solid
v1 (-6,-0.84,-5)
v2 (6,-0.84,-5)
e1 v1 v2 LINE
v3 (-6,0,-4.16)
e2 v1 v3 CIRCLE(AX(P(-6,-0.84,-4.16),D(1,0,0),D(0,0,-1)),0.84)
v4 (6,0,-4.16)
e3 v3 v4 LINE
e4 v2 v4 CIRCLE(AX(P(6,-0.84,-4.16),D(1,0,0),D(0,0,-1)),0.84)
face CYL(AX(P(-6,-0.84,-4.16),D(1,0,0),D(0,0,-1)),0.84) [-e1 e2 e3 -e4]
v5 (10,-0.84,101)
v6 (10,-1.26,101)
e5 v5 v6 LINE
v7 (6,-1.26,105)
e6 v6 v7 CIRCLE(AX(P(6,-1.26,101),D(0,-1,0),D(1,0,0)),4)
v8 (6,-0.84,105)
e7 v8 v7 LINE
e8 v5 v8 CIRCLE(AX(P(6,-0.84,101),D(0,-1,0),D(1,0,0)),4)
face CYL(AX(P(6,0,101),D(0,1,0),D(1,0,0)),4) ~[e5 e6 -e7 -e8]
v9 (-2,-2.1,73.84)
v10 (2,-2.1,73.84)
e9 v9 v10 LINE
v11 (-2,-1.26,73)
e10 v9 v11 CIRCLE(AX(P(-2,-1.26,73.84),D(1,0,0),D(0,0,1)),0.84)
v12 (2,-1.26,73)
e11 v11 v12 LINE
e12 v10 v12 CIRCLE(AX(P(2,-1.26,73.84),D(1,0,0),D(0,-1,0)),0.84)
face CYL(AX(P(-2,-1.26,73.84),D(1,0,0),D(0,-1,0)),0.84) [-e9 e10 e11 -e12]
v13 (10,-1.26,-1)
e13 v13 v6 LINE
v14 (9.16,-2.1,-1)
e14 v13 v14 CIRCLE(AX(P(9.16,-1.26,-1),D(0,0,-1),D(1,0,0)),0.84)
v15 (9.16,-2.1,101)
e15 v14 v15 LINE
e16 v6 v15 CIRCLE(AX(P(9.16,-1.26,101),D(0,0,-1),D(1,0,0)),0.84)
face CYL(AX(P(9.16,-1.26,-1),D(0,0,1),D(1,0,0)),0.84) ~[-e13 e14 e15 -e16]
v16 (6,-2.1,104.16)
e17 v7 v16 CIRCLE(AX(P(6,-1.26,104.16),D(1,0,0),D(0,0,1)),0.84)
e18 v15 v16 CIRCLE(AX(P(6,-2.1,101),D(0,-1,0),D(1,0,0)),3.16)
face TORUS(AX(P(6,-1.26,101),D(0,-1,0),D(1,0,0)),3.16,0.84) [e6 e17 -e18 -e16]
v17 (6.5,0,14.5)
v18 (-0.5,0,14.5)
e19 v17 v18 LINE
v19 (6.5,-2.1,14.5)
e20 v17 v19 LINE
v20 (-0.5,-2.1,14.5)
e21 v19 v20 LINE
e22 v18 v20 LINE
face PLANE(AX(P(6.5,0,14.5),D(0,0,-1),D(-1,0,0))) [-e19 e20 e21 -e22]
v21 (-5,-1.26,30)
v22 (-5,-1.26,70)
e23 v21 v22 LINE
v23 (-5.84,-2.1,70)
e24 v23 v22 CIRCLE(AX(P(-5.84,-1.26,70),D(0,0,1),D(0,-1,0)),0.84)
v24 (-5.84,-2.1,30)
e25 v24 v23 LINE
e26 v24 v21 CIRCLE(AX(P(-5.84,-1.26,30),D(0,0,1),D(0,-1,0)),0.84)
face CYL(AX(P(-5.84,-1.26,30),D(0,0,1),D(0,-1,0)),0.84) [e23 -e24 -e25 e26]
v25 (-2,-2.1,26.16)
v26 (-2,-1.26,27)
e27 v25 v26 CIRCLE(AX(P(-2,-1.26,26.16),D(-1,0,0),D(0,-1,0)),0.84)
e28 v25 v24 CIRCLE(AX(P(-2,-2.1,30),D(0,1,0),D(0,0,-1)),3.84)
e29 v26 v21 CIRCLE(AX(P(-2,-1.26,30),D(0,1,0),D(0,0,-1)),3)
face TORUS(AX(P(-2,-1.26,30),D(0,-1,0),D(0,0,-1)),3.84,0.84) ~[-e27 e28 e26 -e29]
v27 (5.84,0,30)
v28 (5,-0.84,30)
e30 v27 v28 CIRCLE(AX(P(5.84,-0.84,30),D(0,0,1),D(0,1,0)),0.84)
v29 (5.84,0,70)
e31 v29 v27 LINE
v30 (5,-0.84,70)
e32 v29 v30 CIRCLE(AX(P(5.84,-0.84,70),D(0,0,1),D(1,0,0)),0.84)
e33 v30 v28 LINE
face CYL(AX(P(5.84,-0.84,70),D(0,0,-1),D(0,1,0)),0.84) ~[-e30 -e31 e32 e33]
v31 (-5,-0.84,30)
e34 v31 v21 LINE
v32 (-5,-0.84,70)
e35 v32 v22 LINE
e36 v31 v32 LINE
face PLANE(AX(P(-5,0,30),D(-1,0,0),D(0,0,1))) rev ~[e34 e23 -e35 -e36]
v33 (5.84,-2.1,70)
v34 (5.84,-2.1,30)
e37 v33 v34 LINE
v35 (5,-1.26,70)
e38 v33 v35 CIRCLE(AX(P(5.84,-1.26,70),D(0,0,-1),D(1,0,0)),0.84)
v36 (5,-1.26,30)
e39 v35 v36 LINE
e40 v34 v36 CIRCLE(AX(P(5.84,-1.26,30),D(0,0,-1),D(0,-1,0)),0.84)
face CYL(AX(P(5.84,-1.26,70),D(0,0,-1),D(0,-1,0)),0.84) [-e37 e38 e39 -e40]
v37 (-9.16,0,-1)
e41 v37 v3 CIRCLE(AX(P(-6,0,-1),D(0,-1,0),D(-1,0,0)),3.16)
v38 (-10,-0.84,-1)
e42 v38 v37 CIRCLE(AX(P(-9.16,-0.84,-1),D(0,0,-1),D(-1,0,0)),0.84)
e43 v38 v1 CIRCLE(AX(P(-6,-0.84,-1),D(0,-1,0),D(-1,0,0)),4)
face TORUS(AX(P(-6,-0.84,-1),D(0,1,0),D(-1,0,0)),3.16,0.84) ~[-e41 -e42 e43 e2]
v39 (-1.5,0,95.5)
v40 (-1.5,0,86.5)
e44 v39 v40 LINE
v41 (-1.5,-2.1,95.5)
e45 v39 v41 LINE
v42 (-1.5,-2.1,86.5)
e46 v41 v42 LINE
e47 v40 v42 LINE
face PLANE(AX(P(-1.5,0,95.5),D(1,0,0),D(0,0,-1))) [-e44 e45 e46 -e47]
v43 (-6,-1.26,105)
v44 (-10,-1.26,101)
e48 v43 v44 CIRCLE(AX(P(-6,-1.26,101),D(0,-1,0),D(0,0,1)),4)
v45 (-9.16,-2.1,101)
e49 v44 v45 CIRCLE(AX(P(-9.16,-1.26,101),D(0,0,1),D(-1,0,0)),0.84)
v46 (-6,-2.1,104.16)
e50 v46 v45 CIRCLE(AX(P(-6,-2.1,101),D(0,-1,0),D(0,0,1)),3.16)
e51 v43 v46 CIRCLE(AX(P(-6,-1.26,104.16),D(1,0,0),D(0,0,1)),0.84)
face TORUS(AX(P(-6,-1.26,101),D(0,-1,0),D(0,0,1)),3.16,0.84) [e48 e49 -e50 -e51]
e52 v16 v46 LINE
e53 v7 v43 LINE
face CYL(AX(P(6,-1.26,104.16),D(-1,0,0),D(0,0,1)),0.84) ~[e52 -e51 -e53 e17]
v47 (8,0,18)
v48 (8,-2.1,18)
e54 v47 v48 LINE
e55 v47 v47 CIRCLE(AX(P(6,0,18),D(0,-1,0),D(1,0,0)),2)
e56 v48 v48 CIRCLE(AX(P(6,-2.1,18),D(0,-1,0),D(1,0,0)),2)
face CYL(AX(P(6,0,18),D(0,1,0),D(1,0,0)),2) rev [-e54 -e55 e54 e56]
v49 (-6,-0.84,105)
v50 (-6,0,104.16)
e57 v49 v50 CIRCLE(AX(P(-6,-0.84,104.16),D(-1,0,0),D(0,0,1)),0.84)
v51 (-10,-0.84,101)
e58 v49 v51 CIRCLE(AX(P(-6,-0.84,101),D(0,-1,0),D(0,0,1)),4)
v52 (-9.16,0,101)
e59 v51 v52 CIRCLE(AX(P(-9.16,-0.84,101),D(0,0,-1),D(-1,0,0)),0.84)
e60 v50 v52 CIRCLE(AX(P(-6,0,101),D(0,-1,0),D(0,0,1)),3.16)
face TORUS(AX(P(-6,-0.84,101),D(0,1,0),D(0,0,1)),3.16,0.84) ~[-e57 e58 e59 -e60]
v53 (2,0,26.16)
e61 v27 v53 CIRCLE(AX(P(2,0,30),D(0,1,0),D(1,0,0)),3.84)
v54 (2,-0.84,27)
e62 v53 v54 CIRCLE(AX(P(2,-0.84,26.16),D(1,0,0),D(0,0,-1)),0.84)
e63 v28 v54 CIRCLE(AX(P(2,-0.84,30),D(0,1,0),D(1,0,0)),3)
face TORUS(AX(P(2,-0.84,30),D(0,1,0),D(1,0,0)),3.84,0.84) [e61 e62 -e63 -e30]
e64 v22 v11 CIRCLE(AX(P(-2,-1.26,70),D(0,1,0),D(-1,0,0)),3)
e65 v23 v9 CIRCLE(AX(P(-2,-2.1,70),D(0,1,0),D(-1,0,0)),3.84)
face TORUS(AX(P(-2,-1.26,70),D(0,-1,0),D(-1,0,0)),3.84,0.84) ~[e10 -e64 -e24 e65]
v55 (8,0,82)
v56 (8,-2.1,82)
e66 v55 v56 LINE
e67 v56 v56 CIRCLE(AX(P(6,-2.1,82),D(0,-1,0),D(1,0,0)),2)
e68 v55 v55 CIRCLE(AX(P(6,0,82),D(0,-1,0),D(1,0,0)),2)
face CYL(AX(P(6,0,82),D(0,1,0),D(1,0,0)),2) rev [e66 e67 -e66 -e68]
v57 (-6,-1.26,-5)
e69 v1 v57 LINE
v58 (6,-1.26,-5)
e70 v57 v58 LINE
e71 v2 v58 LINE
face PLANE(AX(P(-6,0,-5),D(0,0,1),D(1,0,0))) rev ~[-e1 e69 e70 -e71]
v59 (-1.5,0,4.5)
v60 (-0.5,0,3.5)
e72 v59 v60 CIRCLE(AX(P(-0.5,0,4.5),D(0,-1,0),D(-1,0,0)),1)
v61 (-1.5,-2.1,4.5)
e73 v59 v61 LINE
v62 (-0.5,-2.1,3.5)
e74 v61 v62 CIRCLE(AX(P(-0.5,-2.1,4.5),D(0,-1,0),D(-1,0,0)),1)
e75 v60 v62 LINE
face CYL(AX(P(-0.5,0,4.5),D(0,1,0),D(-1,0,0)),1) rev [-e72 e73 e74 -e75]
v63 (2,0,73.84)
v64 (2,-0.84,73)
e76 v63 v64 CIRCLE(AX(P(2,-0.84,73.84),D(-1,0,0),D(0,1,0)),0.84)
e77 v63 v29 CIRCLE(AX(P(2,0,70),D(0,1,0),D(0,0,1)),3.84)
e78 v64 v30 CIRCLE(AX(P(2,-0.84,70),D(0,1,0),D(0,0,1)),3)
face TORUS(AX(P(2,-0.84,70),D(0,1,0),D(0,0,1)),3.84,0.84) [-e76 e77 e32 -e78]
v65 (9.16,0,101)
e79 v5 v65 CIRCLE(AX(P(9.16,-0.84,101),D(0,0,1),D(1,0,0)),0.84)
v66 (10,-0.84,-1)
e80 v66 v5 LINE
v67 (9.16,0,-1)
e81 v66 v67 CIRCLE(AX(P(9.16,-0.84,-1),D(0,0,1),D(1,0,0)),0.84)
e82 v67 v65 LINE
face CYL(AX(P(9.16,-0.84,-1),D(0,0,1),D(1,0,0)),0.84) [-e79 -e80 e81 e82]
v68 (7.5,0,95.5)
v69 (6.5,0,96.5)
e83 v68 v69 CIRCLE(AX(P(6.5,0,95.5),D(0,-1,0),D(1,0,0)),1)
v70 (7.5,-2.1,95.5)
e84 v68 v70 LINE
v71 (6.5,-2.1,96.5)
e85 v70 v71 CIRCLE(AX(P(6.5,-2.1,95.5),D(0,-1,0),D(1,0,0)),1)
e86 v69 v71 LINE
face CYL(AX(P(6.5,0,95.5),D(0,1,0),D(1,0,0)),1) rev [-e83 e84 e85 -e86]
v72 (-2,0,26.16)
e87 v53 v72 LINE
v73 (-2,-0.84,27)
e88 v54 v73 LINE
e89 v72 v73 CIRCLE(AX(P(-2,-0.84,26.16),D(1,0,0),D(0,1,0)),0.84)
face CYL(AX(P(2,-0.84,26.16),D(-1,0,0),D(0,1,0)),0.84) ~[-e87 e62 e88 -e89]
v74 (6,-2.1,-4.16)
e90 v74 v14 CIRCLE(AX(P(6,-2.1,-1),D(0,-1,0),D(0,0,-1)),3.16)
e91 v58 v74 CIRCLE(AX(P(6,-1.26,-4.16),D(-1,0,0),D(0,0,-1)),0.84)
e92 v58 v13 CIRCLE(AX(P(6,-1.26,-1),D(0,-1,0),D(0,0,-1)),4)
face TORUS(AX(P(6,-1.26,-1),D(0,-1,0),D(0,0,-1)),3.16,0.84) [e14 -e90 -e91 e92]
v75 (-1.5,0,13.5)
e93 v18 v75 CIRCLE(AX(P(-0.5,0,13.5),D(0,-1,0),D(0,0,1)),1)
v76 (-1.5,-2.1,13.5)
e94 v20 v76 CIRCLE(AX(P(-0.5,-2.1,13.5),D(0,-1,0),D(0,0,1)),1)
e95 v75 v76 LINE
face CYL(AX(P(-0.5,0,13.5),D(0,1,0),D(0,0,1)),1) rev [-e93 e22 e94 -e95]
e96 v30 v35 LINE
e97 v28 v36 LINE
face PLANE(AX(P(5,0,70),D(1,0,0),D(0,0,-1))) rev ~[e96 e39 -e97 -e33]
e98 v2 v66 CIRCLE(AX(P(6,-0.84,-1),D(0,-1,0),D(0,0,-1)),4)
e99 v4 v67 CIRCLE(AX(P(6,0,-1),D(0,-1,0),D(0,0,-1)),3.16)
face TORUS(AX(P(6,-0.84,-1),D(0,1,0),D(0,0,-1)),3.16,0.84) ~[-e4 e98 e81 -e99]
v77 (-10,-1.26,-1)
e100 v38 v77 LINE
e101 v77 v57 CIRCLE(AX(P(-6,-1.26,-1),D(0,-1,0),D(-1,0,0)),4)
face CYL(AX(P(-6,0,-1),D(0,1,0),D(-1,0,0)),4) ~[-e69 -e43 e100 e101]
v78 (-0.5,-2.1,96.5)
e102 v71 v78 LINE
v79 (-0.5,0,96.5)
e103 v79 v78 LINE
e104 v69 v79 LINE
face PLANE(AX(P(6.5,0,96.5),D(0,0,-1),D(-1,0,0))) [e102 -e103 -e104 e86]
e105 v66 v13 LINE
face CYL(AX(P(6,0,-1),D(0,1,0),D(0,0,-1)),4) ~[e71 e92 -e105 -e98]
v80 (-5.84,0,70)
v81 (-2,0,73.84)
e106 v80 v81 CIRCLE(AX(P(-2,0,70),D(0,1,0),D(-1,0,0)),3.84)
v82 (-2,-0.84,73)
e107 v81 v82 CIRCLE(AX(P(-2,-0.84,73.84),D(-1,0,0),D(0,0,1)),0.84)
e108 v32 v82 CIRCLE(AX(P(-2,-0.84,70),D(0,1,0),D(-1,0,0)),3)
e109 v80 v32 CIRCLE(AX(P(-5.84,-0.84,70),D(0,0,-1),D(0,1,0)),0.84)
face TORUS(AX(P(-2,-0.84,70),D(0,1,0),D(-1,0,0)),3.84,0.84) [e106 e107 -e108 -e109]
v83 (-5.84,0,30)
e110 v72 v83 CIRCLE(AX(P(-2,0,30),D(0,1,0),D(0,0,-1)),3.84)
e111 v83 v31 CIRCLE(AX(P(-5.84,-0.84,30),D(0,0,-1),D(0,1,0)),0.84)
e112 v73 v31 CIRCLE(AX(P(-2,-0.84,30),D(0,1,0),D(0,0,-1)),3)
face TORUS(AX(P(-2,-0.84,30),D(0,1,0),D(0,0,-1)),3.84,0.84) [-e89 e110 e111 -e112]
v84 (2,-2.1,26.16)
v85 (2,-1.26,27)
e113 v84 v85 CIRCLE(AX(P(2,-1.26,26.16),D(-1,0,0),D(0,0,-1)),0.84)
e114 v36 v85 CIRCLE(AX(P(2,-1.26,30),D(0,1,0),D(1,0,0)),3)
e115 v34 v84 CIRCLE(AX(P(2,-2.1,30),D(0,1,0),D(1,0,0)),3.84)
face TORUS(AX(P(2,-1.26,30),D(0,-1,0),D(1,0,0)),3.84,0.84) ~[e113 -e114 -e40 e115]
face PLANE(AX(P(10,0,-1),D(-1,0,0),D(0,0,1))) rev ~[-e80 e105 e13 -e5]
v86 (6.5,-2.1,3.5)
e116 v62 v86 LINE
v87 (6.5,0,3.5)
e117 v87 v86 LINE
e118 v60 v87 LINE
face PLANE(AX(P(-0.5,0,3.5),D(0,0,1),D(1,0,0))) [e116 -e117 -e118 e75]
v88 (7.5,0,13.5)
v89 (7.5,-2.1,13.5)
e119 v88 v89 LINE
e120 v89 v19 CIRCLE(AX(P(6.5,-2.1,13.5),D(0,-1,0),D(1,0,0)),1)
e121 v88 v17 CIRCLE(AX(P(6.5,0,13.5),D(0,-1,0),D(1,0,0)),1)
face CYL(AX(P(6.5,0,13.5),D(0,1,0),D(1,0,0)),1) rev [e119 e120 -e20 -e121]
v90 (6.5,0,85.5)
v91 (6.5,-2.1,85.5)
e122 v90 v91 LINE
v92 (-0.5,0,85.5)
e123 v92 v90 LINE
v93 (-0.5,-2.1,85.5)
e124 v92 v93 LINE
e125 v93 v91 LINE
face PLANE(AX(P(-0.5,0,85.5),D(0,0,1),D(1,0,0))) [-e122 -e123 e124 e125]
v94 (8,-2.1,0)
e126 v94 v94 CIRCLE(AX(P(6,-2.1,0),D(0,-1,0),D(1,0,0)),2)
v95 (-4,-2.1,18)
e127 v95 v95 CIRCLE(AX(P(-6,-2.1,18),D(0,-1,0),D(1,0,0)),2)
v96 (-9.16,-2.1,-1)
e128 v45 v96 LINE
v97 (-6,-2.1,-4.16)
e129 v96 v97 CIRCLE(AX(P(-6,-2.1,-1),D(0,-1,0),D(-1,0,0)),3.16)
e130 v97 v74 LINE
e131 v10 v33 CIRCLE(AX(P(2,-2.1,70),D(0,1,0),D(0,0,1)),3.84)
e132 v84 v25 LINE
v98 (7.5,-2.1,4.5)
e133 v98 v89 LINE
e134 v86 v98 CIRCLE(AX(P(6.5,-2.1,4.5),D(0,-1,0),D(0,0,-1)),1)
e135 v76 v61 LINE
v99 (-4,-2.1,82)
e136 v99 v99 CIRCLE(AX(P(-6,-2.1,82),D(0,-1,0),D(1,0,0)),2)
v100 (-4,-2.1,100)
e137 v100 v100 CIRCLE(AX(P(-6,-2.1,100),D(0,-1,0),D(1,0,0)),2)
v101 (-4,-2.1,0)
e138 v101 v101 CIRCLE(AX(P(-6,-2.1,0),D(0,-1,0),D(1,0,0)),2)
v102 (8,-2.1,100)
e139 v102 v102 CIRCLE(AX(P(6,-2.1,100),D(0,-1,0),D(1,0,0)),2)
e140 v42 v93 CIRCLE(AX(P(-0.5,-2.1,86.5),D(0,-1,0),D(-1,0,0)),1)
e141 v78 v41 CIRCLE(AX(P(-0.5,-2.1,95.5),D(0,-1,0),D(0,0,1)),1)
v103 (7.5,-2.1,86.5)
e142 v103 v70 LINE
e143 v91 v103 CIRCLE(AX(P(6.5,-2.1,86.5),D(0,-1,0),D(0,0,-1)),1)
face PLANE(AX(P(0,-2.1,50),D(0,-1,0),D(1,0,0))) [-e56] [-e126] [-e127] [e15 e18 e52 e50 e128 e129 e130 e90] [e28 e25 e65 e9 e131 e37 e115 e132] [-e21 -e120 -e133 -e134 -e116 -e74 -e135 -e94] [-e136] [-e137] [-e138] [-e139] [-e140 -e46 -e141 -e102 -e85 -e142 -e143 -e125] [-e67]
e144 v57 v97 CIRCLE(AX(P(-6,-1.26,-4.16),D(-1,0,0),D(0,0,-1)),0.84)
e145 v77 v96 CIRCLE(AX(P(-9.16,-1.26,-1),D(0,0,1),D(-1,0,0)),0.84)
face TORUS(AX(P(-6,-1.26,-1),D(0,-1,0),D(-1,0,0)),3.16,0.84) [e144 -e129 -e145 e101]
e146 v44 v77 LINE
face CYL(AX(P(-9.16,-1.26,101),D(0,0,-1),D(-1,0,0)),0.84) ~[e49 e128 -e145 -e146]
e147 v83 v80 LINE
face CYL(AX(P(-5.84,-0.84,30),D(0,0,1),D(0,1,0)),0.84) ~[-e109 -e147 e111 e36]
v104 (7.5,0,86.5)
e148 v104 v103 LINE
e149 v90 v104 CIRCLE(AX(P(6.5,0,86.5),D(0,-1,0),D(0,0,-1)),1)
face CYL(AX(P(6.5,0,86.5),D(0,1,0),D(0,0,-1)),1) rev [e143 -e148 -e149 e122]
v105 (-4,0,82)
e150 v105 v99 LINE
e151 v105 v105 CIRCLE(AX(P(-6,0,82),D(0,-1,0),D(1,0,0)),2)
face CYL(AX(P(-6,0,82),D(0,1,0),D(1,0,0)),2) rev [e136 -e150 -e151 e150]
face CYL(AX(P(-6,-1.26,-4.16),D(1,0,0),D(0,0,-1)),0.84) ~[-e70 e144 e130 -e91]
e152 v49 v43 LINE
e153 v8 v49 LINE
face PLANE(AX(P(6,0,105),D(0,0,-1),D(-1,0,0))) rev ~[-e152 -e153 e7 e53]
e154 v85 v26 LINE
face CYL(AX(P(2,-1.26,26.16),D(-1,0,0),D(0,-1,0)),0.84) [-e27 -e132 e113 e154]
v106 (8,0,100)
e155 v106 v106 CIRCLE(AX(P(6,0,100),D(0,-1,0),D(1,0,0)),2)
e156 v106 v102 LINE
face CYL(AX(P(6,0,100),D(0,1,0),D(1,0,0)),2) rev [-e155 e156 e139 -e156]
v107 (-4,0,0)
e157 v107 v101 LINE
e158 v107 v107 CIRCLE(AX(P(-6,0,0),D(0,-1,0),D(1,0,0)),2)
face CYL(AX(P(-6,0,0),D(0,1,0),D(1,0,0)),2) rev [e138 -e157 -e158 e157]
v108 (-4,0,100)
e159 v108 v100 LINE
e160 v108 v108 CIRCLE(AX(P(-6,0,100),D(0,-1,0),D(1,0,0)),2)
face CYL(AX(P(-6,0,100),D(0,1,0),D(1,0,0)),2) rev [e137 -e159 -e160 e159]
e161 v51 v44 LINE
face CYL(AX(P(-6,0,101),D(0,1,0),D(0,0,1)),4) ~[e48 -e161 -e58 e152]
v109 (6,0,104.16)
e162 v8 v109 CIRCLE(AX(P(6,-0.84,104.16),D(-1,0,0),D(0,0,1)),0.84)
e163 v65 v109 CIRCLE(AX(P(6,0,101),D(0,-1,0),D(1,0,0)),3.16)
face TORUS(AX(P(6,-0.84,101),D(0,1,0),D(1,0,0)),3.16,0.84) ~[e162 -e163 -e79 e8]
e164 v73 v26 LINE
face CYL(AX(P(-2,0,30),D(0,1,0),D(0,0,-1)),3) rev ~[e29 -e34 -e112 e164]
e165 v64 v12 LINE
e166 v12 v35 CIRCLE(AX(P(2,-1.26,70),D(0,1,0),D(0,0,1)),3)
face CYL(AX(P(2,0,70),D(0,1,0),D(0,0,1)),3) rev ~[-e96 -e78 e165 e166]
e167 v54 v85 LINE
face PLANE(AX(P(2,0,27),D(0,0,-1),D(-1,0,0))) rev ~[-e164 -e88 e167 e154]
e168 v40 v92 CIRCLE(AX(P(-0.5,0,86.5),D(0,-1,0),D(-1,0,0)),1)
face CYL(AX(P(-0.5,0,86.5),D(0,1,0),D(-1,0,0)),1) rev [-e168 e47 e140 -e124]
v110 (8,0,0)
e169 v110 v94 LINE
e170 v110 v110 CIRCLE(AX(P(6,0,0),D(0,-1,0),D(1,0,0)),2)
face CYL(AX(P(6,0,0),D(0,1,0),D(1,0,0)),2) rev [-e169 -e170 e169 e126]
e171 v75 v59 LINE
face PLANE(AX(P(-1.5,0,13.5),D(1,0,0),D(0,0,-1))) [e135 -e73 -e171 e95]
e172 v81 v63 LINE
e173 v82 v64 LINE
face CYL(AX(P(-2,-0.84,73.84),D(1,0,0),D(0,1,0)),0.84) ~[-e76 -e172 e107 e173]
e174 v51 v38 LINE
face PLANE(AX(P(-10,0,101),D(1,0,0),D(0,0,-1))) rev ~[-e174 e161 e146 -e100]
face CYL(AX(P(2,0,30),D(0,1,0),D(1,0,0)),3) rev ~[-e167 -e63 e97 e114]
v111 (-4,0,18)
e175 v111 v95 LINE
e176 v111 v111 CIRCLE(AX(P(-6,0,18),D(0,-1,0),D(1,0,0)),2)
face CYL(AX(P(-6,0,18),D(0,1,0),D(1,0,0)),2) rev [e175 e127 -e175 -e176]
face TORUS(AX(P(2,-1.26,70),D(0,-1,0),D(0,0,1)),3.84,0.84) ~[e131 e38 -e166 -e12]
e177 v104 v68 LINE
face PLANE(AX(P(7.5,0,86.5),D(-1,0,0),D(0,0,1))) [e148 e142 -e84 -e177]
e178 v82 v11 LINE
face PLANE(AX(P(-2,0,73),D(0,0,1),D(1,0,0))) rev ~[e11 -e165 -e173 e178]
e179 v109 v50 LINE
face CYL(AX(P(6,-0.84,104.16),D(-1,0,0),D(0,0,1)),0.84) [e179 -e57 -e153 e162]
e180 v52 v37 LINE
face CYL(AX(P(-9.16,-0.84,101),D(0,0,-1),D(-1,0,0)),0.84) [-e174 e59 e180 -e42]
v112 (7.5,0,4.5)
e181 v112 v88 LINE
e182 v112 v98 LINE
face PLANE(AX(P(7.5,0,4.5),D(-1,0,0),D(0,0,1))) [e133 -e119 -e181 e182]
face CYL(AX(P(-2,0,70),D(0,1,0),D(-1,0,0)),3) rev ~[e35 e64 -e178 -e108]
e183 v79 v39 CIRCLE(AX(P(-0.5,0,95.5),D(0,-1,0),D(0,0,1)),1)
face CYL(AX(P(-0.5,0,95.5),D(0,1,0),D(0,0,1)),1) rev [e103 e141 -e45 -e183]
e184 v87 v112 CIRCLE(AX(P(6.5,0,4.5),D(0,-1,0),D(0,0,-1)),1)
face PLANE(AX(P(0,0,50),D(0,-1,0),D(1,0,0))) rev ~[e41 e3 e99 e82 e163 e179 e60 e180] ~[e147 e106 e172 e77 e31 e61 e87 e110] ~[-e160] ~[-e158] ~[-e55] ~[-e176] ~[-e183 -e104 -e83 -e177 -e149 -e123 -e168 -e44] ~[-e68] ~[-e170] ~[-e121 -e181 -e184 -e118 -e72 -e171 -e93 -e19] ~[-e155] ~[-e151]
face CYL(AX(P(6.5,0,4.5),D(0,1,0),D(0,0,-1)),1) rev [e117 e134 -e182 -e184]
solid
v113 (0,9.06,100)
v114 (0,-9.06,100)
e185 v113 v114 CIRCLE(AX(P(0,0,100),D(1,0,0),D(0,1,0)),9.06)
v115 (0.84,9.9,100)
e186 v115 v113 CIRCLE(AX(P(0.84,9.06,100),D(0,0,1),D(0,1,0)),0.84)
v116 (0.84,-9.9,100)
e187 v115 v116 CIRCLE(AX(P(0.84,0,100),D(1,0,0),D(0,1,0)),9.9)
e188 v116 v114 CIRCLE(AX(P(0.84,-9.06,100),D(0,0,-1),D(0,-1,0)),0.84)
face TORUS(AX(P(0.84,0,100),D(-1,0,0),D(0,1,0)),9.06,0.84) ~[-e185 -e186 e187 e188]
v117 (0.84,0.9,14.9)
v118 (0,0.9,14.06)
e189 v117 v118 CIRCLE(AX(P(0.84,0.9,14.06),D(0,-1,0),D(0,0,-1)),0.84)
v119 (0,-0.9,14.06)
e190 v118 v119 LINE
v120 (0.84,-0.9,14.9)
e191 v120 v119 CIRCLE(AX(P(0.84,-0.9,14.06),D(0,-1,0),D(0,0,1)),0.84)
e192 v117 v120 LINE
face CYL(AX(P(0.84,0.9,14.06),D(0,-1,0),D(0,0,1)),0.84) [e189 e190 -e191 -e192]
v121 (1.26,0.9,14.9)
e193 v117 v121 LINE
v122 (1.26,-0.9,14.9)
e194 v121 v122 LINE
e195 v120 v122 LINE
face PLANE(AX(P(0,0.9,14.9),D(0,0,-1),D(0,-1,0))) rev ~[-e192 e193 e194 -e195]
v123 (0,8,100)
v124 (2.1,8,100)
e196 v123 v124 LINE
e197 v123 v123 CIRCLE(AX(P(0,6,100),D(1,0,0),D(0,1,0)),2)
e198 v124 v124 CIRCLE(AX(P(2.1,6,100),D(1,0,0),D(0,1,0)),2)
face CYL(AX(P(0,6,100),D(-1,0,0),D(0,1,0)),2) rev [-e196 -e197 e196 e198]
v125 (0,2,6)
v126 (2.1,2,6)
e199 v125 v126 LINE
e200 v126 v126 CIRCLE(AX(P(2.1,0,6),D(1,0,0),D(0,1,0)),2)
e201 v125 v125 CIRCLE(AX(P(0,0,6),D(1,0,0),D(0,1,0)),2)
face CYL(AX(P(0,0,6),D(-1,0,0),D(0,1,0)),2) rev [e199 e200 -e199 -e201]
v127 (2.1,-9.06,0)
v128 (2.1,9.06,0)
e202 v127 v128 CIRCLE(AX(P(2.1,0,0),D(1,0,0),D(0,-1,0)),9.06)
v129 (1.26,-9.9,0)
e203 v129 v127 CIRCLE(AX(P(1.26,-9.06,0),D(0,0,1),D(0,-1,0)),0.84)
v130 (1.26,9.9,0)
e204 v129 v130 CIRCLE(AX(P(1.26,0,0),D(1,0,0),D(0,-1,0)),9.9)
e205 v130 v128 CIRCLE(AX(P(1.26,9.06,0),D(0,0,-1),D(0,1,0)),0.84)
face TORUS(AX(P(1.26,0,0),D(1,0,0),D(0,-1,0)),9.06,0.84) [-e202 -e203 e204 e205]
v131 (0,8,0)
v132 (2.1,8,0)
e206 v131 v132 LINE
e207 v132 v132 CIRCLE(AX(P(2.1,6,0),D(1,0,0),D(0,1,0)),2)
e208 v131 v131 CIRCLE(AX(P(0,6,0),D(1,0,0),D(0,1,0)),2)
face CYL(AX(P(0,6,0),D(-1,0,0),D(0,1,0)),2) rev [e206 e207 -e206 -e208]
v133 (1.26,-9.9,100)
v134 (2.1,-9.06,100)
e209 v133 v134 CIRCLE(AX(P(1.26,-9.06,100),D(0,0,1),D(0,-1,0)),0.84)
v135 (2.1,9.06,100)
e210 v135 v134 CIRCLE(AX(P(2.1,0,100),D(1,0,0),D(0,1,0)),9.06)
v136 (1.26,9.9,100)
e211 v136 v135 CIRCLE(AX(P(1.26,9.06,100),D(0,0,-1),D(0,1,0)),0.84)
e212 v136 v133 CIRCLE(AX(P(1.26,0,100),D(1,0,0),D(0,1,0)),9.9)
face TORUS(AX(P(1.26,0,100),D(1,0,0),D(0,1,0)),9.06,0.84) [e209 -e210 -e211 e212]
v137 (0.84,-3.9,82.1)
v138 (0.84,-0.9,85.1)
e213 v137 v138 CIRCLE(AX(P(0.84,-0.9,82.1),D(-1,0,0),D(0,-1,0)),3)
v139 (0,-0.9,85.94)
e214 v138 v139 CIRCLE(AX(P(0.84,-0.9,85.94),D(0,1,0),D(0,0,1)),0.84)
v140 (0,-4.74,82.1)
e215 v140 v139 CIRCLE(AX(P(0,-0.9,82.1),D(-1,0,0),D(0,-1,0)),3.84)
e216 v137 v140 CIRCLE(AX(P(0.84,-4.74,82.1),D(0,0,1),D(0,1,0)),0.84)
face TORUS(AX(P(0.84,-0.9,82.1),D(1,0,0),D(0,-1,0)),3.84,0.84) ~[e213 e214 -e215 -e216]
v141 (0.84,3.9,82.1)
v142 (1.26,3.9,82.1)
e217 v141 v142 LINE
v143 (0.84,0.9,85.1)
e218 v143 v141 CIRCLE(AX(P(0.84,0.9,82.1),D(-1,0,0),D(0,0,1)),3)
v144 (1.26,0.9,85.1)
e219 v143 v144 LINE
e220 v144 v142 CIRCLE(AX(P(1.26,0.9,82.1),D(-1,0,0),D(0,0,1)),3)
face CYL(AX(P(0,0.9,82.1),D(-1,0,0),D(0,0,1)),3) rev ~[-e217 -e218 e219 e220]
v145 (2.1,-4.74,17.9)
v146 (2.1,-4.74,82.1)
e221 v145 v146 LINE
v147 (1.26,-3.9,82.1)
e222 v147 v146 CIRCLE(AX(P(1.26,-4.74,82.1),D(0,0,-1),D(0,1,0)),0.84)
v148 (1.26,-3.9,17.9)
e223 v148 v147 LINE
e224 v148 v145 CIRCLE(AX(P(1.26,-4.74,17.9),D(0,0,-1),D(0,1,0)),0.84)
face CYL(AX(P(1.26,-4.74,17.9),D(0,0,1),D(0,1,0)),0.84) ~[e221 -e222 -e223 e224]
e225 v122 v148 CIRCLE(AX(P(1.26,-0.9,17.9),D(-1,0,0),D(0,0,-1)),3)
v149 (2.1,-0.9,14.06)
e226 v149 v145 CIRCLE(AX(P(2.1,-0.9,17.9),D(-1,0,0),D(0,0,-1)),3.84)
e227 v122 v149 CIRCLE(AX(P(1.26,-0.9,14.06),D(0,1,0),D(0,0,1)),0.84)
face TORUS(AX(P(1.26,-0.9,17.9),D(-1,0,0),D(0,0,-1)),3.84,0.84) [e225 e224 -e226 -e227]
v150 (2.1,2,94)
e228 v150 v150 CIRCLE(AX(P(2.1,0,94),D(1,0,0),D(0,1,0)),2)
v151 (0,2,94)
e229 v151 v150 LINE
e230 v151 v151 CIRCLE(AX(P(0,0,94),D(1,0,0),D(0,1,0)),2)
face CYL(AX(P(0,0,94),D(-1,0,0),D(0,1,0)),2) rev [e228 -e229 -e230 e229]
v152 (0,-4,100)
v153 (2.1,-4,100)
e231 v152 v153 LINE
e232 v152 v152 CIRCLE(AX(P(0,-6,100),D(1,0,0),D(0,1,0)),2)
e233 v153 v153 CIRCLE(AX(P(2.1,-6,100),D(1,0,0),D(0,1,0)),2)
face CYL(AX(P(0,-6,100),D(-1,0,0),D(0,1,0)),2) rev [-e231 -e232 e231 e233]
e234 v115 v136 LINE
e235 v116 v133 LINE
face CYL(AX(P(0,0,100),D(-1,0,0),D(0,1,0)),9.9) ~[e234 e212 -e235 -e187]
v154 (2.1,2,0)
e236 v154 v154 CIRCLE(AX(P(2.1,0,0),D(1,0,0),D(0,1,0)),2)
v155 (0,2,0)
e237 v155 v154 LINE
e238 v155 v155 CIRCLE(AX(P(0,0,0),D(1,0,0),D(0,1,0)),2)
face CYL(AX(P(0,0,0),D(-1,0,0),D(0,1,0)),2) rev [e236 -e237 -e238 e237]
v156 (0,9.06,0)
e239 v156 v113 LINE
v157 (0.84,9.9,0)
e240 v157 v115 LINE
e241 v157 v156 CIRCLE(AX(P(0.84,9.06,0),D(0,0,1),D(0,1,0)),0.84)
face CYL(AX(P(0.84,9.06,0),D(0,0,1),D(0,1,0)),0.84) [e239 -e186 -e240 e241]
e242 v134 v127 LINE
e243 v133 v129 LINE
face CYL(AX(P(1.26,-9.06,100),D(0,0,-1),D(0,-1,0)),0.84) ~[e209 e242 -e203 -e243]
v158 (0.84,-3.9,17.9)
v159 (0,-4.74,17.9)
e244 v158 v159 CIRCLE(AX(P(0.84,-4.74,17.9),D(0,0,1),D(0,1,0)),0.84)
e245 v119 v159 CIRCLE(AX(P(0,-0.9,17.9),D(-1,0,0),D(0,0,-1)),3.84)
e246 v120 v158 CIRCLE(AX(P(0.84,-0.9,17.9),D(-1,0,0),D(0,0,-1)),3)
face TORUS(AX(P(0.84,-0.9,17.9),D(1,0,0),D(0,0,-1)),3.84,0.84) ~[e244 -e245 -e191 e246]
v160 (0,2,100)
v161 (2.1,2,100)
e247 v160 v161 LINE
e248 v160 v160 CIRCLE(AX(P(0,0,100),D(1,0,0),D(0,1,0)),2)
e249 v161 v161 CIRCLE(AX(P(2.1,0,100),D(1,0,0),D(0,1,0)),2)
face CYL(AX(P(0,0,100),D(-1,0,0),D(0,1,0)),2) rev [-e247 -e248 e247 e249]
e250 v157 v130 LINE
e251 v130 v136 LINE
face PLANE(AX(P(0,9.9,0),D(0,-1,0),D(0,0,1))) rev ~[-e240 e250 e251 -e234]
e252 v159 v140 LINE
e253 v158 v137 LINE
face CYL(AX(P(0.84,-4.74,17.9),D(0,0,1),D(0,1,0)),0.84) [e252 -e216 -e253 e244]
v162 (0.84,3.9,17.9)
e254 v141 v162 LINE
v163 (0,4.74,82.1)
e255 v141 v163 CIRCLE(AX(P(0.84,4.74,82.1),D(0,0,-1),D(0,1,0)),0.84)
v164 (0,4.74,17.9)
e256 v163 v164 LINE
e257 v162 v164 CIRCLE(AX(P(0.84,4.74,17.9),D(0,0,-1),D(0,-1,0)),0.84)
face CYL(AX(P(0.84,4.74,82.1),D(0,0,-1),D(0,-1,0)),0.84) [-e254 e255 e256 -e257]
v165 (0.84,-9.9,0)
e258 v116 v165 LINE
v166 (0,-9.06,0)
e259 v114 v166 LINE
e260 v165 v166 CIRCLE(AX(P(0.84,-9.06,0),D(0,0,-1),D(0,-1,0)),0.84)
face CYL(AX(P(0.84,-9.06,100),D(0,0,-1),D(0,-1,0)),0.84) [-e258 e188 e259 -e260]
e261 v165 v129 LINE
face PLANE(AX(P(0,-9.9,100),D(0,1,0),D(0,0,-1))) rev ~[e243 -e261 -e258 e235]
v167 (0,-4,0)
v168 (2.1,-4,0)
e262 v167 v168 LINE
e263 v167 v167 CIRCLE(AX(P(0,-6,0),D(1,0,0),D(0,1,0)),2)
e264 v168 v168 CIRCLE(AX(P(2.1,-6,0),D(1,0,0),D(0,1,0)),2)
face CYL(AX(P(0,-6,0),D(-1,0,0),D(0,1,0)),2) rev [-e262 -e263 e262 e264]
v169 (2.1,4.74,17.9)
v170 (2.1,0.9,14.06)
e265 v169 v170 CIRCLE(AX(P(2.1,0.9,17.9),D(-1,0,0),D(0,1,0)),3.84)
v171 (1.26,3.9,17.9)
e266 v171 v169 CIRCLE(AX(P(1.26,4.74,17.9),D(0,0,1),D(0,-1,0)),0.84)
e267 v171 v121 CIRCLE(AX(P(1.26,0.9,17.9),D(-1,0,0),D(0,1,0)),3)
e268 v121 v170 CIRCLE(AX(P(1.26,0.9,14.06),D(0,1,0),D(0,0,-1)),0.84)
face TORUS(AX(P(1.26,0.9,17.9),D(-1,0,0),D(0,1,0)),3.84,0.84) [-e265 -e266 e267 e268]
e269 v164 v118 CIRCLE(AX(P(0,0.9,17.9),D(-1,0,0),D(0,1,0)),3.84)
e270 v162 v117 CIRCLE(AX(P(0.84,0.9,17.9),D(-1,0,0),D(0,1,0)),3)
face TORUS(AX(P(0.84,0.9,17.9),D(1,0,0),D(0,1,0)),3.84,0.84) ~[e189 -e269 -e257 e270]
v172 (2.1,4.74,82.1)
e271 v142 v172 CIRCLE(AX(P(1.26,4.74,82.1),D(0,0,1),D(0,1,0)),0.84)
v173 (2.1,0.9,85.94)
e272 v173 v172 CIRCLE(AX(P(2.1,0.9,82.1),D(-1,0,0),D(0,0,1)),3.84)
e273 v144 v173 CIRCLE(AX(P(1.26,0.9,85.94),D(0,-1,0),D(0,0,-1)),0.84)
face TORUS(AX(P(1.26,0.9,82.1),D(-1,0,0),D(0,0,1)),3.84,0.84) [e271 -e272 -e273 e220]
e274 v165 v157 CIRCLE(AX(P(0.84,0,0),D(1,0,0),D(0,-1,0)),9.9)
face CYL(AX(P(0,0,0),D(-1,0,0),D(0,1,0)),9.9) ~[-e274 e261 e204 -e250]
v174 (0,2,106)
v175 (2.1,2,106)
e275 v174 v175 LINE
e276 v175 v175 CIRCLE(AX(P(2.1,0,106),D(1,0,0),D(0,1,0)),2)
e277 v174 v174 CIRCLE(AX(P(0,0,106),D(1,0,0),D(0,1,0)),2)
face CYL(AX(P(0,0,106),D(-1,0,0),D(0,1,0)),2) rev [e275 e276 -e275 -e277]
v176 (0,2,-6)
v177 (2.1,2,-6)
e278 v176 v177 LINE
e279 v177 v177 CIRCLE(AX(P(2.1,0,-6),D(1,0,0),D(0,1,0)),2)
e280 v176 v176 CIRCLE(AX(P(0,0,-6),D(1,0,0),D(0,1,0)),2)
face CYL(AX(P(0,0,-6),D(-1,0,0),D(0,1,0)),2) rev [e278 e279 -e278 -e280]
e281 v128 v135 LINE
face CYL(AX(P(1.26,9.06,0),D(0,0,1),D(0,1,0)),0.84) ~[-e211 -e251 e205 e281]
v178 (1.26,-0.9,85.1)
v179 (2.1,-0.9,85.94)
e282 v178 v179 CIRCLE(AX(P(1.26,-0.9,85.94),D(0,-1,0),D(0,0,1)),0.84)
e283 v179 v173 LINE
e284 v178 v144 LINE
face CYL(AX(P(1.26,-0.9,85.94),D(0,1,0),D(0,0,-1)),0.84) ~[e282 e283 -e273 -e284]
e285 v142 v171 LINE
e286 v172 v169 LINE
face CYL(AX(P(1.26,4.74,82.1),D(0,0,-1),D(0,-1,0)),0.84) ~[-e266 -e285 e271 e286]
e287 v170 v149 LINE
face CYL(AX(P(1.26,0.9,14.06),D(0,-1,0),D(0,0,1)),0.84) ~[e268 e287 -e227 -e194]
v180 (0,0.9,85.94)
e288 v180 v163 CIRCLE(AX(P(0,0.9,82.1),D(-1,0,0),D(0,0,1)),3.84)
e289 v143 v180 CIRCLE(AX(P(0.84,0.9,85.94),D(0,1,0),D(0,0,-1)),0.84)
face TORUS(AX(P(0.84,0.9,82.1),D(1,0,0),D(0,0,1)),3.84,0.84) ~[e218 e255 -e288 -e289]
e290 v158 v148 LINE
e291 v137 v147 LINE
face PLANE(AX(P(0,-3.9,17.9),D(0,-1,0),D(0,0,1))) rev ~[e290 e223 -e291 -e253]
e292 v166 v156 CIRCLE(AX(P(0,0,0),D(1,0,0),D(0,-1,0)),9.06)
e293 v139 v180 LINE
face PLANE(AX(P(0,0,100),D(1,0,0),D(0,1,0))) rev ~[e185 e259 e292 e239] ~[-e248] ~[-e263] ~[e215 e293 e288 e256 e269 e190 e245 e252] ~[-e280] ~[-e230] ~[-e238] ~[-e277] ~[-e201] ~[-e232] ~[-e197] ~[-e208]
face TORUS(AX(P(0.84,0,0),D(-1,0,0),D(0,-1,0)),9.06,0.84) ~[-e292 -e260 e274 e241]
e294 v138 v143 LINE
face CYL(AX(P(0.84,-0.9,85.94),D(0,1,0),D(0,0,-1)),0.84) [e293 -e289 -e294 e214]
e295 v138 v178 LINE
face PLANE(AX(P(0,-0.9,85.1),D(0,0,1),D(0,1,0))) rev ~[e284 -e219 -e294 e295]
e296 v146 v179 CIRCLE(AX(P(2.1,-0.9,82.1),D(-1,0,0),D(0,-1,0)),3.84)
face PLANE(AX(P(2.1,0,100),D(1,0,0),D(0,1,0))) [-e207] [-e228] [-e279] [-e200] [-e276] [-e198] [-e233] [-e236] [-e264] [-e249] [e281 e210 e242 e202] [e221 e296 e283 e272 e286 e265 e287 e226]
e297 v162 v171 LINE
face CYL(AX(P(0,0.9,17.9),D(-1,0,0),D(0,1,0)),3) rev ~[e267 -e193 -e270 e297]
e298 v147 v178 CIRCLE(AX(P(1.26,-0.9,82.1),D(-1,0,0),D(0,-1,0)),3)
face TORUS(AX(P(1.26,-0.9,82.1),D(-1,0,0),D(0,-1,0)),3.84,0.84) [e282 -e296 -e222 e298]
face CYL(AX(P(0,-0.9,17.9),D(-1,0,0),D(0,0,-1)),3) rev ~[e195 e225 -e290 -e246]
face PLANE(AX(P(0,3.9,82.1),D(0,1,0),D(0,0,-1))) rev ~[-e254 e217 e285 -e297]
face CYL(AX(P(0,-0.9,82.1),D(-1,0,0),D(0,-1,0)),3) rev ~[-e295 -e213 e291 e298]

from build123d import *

# Parameters (mm, degrees)
F4_R      = 2
F5_DEPTH  = 2.1
F7_DEPTH  = 2.1
F8_R      = 0.84
F9_R      = 2
F10_DEPTH = 2.1
F11_R     = 0.84


with BuildPart() as f5:
    # F4 (on Front) → F5 (new body)
    with BuildSketch(Plane.XZ):
        with BuildLine():
            ThreePointArc((10, 101), (8.8284271247, 103.8284271247), (6, 105))
            Line((6, 105), (-6, 105))
            ThreePointArc((-6, 105), (-8.8284271247, 103.8284271247), (-10, 101))
            Line((-10, 101), (-10, -1))
            ThreePointArc((-10, -1), (-8.8284271247, -3.8284271247), (-6, -5))
            Line((-6, -5), (6, -5))
            ThreePointArc((6, -5), (8.8284271247, -3.8284271247), (10, -1))
            Line((10, -1), (10, 101))
        make_face()
        with Locations((-6, 0)):
            Circle(F4_R, mode=Mode.SUBTRACT)
        with Locations((-6, 18)):
            Circle(F4_R, mode=Mode.SUBTRACT)
        with Locations((6, 0)):
            Circle(F4_R, mode=Mode.SUBTRACT)
        with Locations((6, 18)):
            Circle(F4_R, mode=Mode.SUBTRACT)
        with BuildLine():
            ThreePointArc((5, 30), (4.1213203436, 27.8786796564), (2, 27))
            Line((2, 27), (-2, 27))
            ThreePointArc((-2, 27), (-4.1213203436, 27.8786796564), (-5, 30))
            Line((-5, 30), (-5, 70))
            ThreePointArc((-5, 70), (-4.1213203436, 72.1213203436), (-2, 73))
            Line((-2, 73), (2, 73))
            ThreePointArc((2, 73), (4.1213203436, 72.1213203436), (5, 70))
            Line((5, 70), (5, 30))
        make_face(mode=Mode.SUBTRACT)
        with Locations((-6, 82)):
            Circle(F4_R, mode=Mode.SUBTRACT)
        with Locations((-6, 100)):
            Circle(F4_R, mode=Mode.SUBTRACT)
        with Locations((6, 82)):
            Circle(F4_R, mode=Mode.SUBTRACT)
        with Locations((6, 100)):
            Circle(F4_R, mode=Mode.SUBTRACT)
    extrude(amount=F5_DEPTH)

    # F6 (on Front) → F7 (cut, through all)
    with BuildSketch(Plane.XZ):
        with BuildLine():
            Line((6.5, 14.5), (-0.5, 14.5))
            ThreePointArc((-0.5, 14.5), (-1.2071067812, 14.2071067812), (-1.5, 13.5))
            Line((-1.5, 13.5), (-1.5, 4.5))
            ThreePointArc((-1.5, 4.5), (-1.2071067812, 3.7928932188), (-0.5, 3.5))
            Line((-0.5, 3.5), (6.5, 3.5))
            ThreePointArc((6.5, 3.5), (7.2071067812, 3.7928932188), (7.5, 4.5))
            Line((7.5, 4.5), (7.5, 13.5))
            ThreePointArc((7.5, 13.5), (7.2071067812, 14.2071067812), (6.5, 14.5))
        make_face()
        with BuildLine():
            ThreePointArc((-1.5, 86.5), (-1.2071067812, 85.7928932188), (-0.5, 85.5))
            Line((-0.5, 85.5), (6.5, 85.5))
            ThreePointArc((6.5, 85.5), (7.2071067812, 85.7928932188), (7.5, 86.5))
            Line((7.5, 86.5), (7.5, 95.5))
            ThreePointArc((7.5, 95.5), (7.2071067812, 96.2071067812), (6.5, 96.5))
            Line((6.5, 96.5), (-0.5, 96.5))
            ThreePointArc((-0.5, 96.5), (-1.2071067812, 96.2071067812), (-1.5, 95.5))
            Line((-1.5, 95.5), (-1.5, 86.5))
        make_face()
    extrude(amount=F7_DEPTH, mode=Mode.SUBTRACT)

    # F8
    f8_edges = [f5.edges().sort_by_distance(p)[0] for p in [
        (10, -1.05, -1),
        (10, -1.05, 101),
        (10, 0, 50),
        (10, -2.1, 50),
        (-5, -1.05, 30),
        (-5, -1.05, 70),
        (-5, 0, 50),
        (-5, -2.1, 50),
    ]]
    fillet(f8_edges, radius=F8_R)


with BuildPart() as f10:
    # F9 (on Right) → F10 (new body)
    with BuildSketch(Plane.YZ):
        with BuildLine():
            ThreePointArc((-9.9, 100), (0, 90.1), (9.9, 100))
            ThreePointArc((9.9, 100), (0, 109.9), (-9.9, 100))
        make_face()
        with Locations((-6, 100)):
            Circle(F9_R, mode=Mode.SUBTRACT)
        with Locations((0, 94)):
            Circle(F9_R, mode=Mode.SUBTRACT)
        with Locations((0, 100)):
            Circle(F9_R, mode=Mode.SUBTRACT)
        with Locations((0, 106)):
            Circle(F9_R, mode=Mode.SUBTRACT)
        with Locations((6, 100)):
            Circle(F9_R, mode=Mode.SUBTRACT)
        with BuildLine():
            Line((9.9, 0), (9.9, 100))
            ThreePointArc((9.9, 100), (0, 90.1), (-9.9, 100))
            Line((-9.9, 100), (-9.9, 0))
            ThreePointArc((-9.9, 0), (0, 9.9), (9.9, 0))
        make_face()
        with BuildLine():
            ThreePointArc((3.9, 17.9), (3.0213203436, 15.7786796564), (0.9, 14.9))
            Line((0.9, 14.9), (-0.9, 14.9))
            ThreePointArc((-0.9, 14.9), (-3.0213203436, 15.7786796564), (-3.9, 17.9))
            Line((-3.9, 17.9), (-3.9, 82.1))
            ThreePointArc((-3.9, 82.1), (-3.0213203436, 84.2213203436), (-0.9, 85.1))
            Line((-0.9, 85.1), (0.9, 85.1))
            ThreePointArc((0.9, 85.1), (3.0213203436, 84.2213203436), (3.9, 82.1))
            Line((3.9, 82.1), (3.9, 17.9))
        make_face(mode=Mode.SUBTRACT)
        with BuildLine():
            ThreePointArc((-9.9, 0), (0, -9.9), (9.9, 0))
            ThreePointArc((9.9, 0), (0, 9.9), (-9.9, 0))
        make_face()
        with Locations((-6, 0)):
            Circle(F9_R, mode=Mode.SUBTRACT)
        with Locations((0, -6)):
            Circle(F9_R, mode=Mode.SUBTRACT)
        Circle(F9_R, mode=Mode.SUBTRACT)
        with Locations((0, 6)):
            Circle(F9_R, mode=Mode.SUBTRACT)
        with Locations((6, 0)):
            Circle(F9_R, mode=Mode.SUBTRACT)
    extrude(amount=F10_DEPTH)

    # F11
    f11_edges = [f10.edges().sort_by_distance(p)[0] for p in [
        (1.05, 9.9, 0),
        (1.05, 9.9, 100),
        (0, 9.9, 50),
        (2.1, 9.9, 50),
        (1.05, -3.9, 17.9),
        (1.05, -3.9, 82.1),
        (0, -3.9, 50),
        (2.1, -3.9, 50),
    ]]
    fillet(f11_edges, radius=F11_R)


solid = Compound([f5.part, f10.part])
